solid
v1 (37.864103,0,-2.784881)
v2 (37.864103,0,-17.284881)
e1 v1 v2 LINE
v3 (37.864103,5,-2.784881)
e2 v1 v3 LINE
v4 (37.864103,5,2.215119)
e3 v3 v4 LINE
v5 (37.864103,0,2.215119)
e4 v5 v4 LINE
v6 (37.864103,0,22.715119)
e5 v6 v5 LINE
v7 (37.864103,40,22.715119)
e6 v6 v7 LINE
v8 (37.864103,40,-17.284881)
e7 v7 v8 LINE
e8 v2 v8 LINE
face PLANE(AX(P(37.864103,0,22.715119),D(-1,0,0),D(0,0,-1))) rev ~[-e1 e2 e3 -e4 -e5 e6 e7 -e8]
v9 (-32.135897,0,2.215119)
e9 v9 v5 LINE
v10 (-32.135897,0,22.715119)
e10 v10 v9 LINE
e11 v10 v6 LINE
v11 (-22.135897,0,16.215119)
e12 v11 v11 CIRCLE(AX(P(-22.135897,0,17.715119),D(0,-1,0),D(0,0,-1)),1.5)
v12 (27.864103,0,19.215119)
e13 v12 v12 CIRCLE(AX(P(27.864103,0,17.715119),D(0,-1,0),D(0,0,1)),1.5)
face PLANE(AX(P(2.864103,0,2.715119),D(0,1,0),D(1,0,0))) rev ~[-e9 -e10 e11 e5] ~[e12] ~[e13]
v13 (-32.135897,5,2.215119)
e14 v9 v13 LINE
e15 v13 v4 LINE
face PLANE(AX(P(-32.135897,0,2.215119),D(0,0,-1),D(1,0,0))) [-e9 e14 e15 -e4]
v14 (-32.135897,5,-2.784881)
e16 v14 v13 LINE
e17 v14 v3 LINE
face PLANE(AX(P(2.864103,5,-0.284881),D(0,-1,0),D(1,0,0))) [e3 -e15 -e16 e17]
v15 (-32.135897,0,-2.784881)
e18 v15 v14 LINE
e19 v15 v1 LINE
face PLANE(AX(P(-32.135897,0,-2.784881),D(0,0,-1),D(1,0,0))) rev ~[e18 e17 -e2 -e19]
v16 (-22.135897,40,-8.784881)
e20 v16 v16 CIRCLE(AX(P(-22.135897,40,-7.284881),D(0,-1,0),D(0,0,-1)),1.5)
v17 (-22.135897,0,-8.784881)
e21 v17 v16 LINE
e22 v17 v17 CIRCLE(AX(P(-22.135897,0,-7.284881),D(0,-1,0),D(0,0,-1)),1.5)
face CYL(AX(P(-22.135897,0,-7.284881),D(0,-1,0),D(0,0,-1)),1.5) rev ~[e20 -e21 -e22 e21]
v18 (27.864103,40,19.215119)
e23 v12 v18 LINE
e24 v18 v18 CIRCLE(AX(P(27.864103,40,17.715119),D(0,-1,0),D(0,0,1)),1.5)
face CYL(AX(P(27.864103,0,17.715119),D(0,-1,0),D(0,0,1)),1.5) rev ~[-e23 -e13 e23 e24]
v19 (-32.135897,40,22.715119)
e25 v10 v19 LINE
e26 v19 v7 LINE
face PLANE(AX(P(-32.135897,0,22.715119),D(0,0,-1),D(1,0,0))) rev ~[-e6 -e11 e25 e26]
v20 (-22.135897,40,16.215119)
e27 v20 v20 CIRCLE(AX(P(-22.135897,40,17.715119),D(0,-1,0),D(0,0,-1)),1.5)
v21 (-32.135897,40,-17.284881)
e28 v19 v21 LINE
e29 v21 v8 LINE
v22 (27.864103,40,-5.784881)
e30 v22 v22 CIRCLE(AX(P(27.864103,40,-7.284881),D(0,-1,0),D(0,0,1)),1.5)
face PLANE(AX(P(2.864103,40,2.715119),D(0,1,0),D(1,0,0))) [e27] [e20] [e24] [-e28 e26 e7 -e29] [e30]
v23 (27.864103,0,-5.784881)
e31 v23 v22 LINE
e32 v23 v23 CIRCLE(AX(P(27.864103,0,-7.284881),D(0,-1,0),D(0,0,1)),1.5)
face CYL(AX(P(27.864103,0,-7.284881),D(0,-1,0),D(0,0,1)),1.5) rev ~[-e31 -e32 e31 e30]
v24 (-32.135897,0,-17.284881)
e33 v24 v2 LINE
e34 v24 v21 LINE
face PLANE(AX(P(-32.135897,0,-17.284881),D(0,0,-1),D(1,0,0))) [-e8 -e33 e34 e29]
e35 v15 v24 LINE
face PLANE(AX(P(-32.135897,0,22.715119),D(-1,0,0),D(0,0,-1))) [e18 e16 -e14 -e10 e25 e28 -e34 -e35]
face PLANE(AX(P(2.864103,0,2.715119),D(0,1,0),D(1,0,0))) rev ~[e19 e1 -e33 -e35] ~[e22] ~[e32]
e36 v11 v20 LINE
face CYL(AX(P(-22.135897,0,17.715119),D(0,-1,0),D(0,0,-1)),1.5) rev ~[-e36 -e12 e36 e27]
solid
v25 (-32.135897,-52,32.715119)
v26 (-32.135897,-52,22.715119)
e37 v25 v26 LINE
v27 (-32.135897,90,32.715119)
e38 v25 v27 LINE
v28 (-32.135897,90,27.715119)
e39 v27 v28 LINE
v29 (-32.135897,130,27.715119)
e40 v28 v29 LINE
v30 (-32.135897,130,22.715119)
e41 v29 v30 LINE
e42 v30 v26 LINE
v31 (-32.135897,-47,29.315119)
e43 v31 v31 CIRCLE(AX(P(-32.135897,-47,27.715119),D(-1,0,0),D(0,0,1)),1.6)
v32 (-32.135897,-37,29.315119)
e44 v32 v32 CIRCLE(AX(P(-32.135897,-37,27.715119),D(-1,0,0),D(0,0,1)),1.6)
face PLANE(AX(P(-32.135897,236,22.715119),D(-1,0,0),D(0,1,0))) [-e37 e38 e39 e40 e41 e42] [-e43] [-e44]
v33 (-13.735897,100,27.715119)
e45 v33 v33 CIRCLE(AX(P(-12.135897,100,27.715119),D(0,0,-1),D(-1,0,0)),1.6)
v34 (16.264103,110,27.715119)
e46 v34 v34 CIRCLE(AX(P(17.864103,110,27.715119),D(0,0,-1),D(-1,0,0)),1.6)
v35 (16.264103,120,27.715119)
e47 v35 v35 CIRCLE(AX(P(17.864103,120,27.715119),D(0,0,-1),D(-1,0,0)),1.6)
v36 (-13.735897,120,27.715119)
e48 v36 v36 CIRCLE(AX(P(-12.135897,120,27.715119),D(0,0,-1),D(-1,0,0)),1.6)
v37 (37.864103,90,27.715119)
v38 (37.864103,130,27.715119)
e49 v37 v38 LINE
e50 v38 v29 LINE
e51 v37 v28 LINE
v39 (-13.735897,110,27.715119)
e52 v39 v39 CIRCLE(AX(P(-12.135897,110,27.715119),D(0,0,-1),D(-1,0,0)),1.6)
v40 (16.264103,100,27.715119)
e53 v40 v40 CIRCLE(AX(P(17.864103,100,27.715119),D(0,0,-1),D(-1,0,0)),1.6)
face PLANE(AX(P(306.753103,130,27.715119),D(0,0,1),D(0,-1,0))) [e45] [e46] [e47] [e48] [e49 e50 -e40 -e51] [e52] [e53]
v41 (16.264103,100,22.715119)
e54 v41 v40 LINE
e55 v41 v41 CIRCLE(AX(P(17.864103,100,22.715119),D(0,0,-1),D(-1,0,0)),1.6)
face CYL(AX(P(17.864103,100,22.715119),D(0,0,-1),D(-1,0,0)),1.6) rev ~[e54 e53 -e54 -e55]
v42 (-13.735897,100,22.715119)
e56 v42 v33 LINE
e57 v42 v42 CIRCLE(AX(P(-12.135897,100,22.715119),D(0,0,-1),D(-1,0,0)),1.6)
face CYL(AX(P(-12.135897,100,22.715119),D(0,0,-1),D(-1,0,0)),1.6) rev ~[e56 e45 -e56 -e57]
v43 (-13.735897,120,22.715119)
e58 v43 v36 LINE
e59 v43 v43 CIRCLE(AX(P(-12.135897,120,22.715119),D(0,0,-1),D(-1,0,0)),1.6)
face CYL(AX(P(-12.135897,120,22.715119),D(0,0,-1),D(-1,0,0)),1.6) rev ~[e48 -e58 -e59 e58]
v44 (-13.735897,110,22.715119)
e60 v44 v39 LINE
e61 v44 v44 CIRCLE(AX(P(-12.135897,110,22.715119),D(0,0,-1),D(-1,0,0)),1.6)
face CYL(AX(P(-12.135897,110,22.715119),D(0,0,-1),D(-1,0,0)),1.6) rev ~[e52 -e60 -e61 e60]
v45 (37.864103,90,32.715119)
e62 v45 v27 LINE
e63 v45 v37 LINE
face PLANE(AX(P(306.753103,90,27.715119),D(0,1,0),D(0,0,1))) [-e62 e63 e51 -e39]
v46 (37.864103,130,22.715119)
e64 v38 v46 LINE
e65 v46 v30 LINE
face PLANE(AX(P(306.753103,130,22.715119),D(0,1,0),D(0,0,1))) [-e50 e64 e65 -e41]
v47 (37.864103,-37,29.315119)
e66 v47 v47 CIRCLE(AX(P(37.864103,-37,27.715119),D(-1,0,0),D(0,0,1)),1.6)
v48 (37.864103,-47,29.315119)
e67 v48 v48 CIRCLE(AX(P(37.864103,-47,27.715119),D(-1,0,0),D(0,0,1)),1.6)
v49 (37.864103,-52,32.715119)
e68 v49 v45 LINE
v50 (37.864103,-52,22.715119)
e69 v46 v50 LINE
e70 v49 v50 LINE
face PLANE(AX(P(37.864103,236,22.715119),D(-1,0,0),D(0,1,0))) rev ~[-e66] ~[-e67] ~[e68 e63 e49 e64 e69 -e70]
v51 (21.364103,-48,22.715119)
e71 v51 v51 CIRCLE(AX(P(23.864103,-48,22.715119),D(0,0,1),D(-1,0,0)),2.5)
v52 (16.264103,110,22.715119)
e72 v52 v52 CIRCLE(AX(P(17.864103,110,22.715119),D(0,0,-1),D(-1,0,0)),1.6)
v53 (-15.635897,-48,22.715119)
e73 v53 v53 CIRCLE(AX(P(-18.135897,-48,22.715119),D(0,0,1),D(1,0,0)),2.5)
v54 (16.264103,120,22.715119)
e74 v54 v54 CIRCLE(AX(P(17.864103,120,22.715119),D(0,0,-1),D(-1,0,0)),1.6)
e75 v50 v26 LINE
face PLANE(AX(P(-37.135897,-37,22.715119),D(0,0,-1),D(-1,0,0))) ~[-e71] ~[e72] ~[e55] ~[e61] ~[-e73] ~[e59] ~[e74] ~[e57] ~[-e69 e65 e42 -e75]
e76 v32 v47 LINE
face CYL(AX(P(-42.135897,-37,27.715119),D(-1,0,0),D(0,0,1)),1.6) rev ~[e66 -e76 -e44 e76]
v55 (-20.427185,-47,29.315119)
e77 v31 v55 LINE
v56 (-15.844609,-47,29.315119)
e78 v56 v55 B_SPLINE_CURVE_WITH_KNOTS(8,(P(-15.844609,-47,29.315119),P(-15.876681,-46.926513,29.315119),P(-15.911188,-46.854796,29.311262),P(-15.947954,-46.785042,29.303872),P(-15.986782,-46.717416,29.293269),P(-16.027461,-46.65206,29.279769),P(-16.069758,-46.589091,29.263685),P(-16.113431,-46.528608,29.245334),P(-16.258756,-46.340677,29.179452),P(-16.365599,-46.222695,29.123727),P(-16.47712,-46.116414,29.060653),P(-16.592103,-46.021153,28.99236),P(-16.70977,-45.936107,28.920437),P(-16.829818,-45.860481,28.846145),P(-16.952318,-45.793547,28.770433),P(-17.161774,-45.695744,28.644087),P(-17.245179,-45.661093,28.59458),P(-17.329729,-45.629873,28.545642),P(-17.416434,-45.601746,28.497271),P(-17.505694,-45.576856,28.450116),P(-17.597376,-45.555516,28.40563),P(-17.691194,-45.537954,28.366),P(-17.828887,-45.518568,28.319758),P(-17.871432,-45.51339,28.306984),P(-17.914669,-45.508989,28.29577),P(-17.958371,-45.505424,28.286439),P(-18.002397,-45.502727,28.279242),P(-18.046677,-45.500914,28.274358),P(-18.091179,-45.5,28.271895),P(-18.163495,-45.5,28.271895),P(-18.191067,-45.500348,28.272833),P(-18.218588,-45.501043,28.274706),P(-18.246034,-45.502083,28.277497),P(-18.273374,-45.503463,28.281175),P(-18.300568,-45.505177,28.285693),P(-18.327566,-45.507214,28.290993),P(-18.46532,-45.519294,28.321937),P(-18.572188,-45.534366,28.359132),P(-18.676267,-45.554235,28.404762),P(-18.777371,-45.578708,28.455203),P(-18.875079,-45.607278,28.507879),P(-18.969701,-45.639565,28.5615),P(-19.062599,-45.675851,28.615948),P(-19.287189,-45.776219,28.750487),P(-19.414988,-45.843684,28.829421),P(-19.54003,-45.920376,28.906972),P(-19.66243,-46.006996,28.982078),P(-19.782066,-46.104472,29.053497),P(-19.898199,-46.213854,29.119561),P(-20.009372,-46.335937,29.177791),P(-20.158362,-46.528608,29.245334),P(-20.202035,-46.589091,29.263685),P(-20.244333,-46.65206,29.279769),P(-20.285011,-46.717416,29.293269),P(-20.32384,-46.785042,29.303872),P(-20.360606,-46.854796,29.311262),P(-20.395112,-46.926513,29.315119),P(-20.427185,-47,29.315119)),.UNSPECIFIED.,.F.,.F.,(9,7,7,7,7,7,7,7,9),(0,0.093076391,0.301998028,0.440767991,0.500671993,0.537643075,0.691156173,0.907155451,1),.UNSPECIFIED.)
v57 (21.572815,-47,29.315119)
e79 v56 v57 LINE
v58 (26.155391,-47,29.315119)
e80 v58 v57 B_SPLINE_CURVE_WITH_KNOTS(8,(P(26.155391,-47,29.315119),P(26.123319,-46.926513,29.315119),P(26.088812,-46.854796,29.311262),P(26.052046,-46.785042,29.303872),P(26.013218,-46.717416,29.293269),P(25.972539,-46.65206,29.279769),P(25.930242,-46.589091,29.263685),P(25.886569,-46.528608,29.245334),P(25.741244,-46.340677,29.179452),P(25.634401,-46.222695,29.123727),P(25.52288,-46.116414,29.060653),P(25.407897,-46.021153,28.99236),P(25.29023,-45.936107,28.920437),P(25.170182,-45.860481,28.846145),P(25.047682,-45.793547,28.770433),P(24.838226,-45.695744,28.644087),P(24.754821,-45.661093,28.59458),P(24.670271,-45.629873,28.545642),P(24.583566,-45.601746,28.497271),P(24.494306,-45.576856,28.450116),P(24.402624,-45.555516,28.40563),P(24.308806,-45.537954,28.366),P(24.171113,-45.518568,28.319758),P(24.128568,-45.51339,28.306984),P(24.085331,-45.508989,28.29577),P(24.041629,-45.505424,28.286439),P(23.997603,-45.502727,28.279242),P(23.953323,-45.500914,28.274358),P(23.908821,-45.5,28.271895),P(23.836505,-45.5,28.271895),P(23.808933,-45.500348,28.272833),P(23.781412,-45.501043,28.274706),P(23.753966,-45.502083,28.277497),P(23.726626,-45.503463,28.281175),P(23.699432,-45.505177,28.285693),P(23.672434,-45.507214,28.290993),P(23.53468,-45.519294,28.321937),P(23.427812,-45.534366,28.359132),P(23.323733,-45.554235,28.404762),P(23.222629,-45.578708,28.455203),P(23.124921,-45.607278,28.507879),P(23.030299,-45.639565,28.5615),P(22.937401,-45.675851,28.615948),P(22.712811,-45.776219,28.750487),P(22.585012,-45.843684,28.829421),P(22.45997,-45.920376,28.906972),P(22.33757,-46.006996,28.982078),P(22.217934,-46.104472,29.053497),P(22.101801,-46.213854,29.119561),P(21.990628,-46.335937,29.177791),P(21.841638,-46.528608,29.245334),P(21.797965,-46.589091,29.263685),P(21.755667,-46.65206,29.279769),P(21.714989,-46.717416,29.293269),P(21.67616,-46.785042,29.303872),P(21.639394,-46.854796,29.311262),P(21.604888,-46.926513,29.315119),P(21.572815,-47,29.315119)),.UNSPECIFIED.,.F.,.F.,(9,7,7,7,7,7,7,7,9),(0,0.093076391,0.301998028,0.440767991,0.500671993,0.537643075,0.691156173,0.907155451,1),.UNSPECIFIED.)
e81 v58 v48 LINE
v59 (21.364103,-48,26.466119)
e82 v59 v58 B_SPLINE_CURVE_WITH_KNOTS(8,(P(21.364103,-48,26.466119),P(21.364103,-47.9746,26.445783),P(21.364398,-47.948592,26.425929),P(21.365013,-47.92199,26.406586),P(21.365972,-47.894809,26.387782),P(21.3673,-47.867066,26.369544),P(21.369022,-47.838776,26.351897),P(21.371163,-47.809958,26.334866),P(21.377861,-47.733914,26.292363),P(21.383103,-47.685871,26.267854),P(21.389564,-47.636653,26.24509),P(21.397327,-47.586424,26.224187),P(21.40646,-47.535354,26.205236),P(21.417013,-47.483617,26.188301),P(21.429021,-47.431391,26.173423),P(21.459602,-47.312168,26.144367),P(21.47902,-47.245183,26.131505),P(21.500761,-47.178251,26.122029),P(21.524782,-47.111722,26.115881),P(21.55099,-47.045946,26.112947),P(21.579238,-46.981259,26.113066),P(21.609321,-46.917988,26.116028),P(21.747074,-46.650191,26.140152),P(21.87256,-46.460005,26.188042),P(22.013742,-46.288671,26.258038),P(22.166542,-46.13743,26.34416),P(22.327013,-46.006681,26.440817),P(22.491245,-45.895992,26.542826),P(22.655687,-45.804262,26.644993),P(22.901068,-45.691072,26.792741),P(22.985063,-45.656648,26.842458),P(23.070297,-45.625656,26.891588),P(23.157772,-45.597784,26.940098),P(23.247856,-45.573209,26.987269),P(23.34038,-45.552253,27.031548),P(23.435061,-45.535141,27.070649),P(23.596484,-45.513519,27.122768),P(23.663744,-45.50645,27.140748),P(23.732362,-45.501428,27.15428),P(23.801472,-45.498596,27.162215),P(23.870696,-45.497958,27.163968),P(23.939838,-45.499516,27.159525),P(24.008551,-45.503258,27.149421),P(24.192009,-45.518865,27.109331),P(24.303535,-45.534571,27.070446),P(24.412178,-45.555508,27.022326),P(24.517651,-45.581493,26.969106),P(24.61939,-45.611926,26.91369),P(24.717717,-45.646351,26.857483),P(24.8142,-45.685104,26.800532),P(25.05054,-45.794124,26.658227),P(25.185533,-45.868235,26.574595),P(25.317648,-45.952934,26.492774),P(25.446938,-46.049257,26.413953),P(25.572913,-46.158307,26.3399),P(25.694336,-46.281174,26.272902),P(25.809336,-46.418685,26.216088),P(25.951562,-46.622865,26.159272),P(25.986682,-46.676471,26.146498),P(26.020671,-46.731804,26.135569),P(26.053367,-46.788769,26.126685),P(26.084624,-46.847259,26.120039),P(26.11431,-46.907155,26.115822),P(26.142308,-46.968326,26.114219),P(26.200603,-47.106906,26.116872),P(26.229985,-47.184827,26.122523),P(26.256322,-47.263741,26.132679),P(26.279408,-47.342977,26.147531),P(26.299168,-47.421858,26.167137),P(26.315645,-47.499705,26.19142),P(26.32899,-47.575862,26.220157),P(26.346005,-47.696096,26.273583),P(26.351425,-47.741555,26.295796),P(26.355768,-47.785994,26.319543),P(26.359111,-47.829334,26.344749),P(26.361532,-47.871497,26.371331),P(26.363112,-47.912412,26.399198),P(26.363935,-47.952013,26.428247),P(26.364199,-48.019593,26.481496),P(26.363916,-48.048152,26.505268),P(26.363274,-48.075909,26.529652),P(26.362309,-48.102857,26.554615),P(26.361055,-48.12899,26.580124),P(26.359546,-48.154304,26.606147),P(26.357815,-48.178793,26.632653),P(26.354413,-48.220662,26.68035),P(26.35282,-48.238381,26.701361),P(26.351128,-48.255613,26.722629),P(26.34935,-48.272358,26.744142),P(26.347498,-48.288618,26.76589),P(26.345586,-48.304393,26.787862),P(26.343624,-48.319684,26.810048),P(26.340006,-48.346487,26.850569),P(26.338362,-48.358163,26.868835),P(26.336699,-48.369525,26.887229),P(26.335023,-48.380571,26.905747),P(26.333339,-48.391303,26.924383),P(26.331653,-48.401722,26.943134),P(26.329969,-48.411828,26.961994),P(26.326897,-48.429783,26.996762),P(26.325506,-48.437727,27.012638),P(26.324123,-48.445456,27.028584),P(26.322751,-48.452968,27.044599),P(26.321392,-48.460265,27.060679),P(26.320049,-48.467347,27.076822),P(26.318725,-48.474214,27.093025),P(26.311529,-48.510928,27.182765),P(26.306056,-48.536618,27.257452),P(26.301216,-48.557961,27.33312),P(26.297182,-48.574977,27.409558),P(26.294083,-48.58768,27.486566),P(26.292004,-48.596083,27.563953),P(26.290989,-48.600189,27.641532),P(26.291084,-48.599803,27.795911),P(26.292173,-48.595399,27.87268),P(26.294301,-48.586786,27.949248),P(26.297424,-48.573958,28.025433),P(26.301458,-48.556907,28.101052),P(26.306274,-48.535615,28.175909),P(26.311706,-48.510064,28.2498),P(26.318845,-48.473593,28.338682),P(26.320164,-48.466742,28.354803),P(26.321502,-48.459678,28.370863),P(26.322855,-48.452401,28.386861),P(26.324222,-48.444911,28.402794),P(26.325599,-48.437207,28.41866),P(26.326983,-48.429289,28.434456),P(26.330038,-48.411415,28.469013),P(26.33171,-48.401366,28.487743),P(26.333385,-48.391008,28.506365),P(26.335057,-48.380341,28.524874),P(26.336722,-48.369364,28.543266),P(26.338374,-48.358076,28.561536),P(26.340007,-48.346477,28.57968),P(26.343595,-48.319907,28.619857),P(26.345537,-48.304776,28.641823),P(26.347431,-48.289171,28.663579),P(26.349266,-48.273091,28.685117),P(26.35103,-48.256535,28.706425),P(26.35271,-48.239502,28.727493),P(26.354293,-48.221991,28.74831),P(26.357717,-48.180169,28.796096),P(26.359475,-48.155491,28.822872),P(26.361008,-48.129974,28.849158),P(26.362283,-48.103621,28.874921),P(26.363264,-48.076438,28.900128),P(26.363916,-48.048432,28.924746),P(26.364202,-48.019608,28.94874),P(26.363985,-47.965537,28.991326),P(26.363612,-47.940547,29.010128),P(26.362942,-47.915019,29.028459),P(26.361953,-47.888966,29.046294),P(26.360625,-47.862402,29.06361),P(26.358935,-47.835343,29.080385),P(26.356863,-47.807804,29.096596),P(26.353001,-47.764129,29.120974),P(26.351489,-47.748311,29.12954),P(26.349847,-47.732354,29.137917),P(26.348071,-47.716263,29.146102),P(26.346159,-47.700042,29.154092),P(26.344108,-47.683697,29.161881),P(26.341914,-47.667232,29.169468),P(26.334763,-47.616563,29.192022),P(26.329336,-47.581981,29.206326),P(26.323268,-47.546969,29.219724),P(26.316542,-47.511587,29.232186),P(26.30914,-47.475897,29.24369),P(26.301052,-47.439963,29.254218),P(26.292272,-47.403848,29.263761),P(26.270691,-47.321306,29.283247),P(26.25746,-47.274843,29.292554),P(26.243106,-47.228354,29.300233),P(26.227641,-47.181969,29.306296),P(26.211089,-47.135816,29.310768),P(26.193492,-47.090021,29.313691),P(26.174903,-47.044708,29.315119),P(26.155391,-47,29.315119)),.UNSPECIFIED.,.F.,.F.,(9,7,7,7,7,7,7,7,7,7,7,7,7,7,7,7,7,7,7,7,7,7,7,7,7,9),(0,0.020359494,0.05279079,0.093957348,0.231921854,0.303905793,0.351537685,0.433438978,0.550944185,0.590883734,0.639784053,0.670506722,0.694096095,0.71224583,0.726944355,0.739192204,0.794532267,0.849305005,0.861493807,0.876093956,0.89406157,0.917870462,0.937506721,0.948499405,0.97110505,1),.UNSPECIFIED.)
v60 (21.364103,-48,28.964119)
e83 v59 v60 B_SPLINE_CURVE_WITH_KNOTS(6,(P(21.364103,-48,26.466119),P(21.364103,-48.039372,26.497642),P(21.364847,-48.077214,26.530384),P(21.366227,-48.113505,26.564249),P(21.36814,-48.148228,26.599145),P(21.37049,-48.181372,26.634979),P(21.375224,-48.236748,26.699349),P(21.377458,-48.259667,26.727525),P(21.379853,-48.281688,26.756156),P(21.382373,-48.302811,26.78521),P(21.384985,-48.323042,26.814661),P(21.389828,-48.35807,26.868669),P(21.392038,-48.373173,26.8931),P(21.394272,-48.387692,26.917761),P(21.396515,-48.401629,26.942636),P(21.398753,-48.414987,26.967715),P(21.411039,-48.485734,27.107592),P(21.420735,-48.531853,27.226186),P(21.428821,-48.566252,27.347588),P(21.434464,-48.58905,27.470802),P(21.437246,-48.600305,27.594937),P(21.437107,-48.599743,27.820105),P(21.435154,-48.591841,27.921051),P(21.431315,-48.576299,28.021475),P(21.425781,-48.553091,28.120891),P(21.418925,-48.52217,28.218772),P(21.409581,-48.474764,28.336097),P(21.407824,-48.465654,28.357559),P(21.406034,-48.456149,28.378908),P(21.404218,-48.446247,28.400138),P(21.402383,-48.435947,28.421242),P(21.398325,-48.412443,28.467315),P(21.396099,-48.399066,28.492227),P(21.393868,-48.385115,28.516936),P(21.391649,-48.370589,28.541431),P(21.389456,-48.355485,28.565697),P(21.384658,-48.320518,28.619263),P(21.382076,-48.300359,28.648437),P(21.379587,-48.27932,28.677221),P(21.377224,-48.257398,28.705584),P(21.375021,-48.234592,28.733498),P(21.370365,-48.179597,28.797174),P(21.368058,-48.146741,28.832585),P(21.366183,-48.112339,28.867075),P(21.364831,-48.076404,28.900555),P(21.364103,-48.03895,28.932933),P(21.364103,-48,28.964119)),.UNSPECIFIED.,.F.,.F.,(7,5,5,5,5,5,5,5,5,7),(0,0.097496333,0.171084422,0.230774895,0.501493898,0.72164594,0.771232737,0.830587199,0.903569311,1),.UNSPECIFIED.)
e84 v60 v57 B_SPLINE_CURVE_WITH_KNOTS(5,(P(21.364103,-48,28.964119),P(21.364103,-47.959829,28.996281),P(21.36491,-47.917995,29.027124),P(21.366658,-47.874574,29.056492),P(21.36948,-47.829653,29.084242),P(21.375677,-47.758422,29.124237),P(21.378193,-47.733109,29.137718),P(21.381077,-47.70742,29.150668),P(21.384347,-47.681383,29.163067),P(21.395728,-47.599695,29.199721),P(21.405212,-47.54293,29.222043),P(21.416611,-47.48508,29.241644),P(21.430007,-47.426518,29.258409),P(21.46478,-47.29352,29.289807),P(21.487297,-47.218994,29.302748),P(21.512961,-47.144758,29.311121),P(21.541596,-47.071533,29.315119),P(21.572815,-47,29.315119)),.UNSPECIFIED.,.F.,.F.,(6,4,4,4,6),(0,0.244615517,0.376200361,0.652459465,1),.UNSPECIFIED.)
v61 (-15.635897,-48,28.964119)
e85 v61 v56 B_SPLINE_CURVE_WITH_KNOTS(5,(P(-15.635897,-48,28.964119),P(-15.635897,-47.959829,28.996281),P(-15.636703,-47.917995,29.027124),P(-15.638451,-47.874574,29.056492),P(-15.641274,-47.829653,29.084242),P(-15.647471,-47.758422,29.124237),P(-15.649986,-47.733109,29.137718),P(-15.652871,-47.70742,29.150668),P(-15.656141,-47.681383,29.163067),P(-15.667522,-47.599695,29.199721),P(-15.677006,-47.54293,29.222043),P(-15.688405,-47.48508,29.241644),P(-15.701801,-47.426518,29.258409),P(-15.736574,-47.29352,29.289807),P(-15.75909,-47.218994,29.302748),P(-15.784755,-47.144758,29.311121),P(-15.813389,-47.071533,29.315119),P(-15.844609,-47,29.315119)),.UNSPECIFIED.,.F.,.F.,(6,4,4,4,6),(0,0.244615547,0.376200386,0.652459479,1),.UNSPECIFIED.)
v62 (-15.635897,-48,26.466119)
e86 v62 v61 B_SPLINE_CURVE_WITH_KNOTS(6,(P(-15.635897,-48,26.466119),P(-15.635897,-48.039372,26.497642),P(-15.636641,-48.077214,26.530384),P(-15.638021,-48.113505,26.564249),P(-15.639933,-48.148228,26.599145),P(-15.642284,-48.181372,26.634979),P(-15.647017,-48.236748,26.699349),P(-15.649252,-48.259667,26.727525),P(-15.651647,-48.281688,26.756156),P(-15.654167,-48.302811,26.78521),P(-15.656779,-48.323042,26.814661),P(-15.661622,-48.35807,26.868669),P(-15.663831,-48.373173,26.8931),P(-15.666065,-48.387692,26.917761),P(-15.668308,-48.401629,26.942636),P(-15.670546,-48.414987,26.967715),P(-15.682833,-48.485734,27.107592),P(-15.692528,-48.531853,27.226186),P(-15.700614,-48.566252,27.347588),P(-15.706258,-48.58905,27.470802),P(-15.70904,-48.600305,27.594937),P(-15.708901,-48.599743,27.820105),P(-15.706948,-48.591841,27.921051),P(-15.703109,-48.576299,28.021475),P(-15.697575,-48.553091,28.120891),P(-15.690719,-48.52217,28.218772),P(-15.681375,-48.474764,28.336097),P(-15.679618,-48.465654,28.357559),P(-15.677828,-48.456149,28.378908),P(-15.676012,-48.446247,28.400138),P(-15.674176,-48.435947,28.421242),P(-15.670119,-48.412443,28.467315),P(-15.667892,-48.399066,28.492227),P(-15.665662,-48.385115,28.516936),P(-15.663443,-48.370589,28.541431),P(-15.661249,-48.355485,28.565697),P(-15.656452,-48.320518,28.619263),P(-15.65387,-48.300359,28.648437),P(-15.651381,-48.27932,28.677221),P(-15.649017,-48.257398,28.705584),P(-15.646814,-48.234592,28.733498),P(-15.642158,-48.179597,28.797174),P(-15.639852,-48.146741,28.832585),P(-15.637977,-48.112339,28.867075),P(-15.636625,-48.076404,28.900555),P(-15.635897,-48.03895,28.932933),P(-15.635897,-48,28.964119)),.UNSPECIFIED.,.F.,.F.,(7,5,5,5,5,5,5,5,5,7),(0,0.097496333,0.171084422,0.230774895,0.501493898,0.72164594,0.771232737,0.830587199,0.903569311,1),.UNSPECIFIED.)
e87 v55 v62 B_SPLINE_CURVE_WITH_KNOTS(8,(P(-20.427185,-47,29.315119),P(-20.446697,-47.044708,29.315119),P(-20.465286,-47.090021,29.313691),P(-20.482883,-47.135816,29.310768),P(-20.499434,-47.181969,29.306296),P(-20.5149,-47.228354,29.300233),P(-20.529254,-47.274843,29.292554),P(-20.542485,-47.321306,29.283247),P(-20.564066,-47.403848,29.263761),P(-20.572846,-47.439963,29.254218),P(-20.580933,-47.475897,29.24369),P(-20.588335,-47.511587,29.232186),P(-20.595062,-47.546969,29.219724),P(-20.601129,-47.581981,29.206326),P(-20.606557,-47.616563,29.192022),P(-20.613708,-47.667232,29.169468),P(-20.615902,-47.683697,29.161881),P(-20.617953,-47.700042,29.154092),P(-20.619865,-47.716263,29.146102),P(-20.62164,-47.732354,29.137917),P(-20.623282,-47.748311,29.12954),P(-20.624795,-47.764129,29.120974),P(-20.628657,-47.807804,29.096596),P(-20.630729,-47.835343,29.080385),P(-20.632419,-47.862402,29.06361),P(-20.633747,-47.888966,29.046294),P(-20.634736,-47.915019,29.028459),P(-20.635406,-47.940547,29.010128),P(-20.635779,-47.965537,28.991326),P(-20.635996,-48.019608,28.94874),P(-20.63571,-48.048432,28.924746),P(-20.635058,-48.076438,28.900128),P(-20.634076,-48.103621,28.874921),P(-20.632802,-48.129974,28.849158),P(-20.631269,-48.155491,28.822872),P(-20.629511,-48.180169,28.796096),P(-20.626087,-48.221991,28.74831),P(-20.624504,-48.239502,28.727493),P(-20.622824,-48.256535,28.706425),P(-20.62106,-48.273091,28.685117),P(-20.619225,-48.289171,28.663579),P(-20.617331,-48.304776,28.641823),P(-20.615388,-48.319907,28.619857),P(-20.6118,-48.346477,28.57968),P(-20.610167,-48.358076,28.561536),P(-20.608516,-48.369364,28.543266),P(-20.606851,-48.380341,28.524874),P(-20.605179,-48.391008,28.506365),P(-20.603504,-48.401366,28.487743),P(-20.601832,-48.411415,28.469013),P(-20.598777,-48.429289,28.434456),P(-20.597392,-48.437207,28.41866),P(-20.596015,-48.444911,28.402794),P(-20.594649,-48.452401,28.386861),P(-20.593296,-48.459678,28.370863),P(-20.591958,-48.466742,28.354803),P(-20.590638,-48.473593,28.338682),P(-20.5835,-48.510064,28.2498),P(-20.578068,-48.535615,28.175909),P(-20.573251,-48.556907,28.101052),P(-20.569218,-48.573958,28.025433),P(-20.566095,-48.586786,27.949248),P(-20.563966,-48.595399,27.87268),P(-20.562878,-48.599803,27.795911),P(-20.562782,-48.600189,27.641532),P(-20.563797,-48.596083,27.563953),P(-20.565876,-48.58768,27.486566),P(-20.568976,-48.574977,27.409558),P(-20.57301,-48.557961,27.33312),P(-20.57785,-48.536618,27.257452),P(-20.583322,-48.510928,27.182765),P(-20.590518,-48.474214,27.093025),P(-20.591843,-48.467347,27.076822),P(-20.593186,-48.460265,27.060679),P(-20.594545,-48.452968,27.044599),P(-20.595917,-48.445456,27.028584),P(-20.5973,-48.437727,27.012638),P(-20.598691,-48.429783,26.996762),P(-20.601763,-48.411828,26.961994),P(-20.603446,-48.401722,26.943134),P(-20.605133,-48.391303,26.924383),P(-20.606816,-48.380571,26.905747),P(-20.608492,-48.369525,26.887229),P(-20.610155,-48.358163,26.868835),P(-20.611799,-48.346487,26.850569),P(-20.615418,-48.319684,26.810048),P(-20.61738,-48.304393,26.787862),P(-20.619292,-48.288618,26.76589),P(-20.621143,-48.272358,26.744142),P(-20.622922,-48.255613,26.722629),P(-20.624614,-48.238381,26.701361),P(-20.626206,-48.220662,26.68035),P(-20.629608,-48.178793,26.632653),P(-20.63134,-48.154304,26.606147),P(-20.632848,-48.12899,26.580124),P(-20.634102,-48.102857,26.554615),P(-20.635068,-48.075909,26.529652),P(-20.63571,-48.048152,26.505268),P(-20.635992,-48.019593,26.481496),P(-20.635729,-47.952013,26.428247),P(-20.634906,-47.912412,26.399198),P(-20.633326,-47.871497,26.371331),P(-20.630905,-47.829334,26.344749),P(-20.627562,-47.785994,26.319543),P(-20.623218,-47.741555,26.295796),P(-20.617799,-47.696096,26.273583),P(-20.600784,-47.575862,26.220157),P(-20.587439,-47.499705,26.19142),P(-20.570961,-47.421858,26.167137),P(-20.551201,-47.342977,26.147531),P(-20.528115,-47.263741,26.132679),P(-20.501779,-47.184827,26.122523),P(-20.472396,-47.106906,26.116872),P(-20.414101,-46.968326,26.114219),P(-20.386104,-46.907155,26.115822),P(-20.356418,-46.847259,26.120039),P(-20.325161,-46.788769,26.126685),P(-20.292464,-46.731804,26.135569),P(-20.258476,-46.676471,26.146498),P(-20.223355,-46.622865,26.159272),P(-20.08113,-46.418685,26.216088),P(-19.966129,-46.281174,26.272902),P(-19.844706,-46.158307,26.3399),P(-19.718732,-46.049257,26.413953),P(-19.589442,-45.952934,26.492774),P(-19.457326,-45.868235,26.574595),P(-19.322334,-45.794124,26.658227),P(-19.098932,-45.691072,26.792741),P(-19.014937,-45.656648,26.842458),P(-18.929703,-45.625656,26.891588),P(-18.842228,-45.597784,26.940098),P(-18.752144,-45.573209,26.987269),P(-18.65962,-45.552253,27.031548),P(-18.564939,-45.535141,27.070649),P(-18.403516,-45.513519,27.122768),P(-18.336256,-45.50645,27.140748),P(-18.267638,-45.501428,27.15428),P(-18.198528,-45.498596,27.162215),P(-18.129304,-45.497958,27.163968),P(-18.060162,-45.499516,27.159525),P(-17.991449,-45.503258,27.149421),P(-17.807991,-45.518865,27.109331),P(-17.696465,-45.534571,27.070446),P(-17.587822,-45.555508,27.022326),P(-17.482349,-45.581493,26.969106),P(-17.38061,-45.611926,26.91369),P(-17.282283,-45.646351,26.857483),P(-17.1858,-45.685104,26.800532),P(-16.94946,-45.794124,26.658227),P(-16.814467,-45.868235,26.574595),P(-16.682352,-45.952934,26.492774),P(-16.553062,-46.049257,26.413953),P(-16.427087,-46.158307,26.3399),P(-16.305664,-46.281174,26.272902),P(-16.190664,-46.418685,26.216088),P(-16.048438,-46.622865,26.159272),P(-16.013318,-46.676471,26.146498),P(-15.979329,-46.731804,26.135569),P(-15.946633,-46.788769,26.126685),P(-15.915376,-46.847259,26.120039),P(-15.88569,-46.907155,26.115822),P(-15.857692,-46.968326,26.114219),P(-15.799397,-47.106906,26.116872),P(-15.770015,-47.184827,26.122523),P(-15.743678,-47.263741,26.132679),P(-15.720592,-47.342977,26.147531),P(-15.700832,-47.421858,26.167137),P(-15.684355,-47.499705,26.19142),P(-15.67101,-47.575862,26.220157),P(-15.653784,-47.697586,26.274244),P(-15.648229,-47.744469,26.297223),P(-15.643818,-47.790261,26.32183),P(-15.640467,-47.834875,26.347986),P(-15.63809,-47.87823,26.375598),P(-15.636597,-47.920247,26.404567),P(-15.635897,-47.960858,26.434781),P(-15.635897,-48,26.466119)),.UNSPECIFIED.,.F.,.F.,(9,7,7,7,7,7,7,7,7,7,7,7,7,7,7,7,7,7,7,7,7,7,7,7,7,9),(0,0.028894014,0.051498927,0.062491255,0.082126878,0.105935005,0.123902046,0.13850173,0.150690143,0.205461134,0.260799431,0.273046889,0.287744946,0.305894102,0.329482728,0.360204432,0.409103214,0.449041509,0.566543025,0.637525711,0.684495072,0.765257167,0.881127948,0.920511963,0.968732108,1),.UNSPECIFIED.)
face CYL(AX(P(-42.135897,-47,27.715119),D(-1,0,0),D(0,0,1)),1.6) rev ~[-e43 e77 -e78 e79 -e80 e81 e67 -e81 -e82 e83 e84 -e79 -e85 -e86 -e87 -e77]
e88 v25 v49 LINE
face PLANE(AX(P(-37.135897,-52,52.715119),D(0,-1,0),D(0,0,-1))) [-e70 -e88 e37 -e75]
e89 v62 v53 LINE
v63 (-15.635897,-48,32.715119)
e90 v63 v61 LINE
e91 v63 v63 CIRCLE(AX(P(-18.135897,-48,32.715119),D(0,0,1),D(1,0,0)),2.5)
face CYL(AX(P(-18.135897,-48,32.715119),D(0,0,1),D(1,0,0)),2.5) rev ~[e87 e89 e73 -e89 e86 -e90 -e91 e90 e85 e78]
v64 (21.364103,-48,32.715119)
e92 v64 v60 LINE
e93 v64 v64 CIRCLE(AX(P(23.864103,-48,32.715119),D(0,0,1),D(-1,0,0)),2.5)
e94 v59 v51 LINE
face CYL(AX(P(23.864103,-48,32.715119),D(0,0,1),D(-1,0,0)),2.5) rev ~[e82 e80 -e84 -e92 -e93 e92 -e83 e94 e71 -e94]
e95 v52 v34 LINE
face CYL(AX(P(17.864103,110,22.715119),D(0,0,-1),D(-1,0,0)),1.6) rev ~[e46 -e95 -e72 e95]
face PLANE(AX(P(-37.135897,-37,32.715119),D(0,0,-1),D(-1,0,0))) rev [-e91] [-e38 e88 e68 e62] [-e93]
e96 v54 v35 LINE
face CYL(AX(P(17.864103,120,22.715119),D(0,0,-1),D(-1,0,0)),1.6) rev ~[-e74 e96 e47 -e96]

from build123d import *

# Parameters (mm, degrees)
SKETCH_1_W                       = 70
SKETCH_1_H                       = 40
EXTRUDE_1_DEPTH                  = 40
SKETCH_2_R                       = 1.5
CUT_EXTRUDE_1_DEPTH              = 60.579081363
EXTRUDE_2_DEPTH                  = 52
EXTRUDE_2_DEPTH_BACK             = 236
SKETCH_4_W                       = 70
SKETCH_4_H                       = 10
SKETCH_5_R                       = 2.5
CUT_EXTRUDE_2_DEPTH              = 10
SKETCH_6_R                       = 3
CUT_EXTRUDE_3_DEPTH              = 10
SKETCH_7_W                       = 70
SKETCH_7_H                       = 10
EXTRUDE_3_DEPTH                  = 50
SKETCH_8_R                       = 12.5
CUT_EXTRUDE_4_DEPTH              = 10
SKETCH_12_W                      = 39
SKETCH_12_H                      = 39
SKETCH_12_W_2                    = 27
SKETCH_12_H_2                    = 27
EXTRUDE_2_2_DEPTH                = 15
SKETCH_14_R                      = 2
CUT_EXTRUDE_5_DEPTH              = 25
SKETCH_15_W                      = 70
SKETCH_15_H                      = 5
CUT_EXTRUDE_6_DEPTH              = 5
SKETCH_16_W                      = 50
SKETCH_16_H                      = 10
EXTRUDE_5_DEPTH                  = 10
MIRROR_2_COPY_1_SKETCH_W         = 50
MIRROR_2_COPY_1_SKETCH_H         = 10
MIRROR_2_COPY_1_DEPTH            = 10
SKETCH_17_R                      = 2.5
CUT_EXTRUDE_7_DEPTH              = 325.880687163
SKETCH_18_R                      = 2.5
EXTRUDE_6_DEPTH                  = 5
SKETCH_21_W                      = 10
SKETCH_21_H                      = 10
EXTRUDE_8_DEPTH                  = 10
EXTRUDE_9_DEPTH                  = 10
EXTRUDE_10_DEPTH                 = 10
SKETCH_26_R                      = 1.6
CUT_EXTRUDE_8_DEPTH              = 10
SPLIT_BODIES_1_SURFACE_1_BACK    = 338.889
SPLIT_BODIES_1_SURFACE_1_DEPTH   = 677.778
SPLIT_BODIES_1_SURFACE_2_BACK    = 338.889
SPLIT_BODIES_1_SURFACE_2_DEPTH   = 677.778
SKETCH_27_R                      = 1.6
CUT_EXTRUDE_9_DEPTH              = 175.033009856
SPLIT_BODIES_2_SURFACE_1_3_BACK  = 223.09
SPLIT_BODIES_2_SURFACE_1_3_DEPTH = 446.18
SPLIT_BODIES_2_SURFACE_1_4_BACK  = 223.09
SPLIT_BODIES_2_SURFACE_1_4_DEPTH = 446.18
SPLIT_BODIES_2_SURFACE_2_5_BACK  = 223.09
SPLIT_BODIES_2_SURFACE_2_5_DEPTH = 446.18
SPLIT_BODIES_2_SURFACE_2_6_BACK  = 223.09
SPLIT_BODIES_2_SURFACE_2_6_DEPTH = 446.18


with BuildPart() as part:
    # 草图1 → 凸台-拉伸1 (new body)
    with BuildSketch(Plane(origin=(0, 0, 0), x_dir=(1, 0, 0), z_dir=(0, 1, 0))):
        with Locations((2.864103165, -2.71511892)):
            Rectangle(SKETCH_1_W, SKETCH_1_H)
    extrude(amount=EXTRUDE_1_DEPTH)

    # 草图2 → 切除-拉伸1 (cut, through all)
    with BuildSketch(Plane.XZ):
        with Locations(Location((-22.135896835, 17.71511892, 0), (0, 0, 270))):
            Circle(SKETCH_2_R)
        with Locations(Location((27.864103165, 17.71511892, 0), (0, 0, 90))):
            Circle(SKETCH_2_R)
        with Locations(Location((-22.135896835, -7.28488108, 0), (0, 0, 270))):
            Circle(SKETCH_2_R)
        with Locations(Location((27.864103165, -7.28488108, 0), (0, 0, 90))):
            Circle(SKETCH_2_R)
    extrude(amount=-CUT_EXTRUDE_1_DEPTH, mode=Mode.SUBTRACT)

    # 草图15 → 切除-拉伸6 (cut)
    with BuildSketch(Plane.XZ):
        with Locations((2.864103165, -0.28488108)):
            Rectangle(SKETCH_15_W, SKETCH_15_H)
    extrude(amount=-CUT_EXTRUDE_6_DEPTH, mode=Mode.SUBTRACT)


with BuildPart() as body_2:
    # 草图4 → Extrude 2 (new, two sides: drawn at the far end of the back side and taken through both)
    with BuildSketch(Plane.XZ.offset(-EXTRUDE_2_DEPTH_BACK)):
        with Locations((2.864103165, 27.71511892)):
            Rectangle(SKETCH_4_W, SKETCH_4_H)
    extrude(amount=EXTRUDE_2_DEPTH + EXTRUDE_2_DEPTH_BACK)

    # 草图5 → 切除-拉伸2 (cut)
    with BuildSketch(Plane.XY.offset(32.71511892)):
        with Locations((-18.135896835, -48)):
            Circle(SKETCH_5_R)
        with Locations(Location((23.864103165, -48, 0), (0, 0, 180))):
            Circle(SKETCH_5_R)
    extrude(amount=-CUT_EXTRUDE_2_DEPTH, mode=Mode.SUBTRACT)

    # 草图6 → 切除-拉伸3 (cut)
    with BuildSketch(Plane.XY.offset(32.71511892)):
        with Locations((-18.135896835, 212)):
            Circle(SKETCH_6_R)
        with Locations(Location((23.864103165, 212, 0), (0, 0, 180))):
            Circle(SKETCH_6_R)
    extrude(amount=-CUT_EXTRUDE_3_DEPTH, mode=Mode.SUBTRACT)

    # 草图7 → 凸台-拉伸3 (add)
    with BuildSketch(Plane(origin=(0, 0, 22.71511892), x_dir=(-1, 0, 0), z_dir=(0, 0, -1))):
        with Locations((-2.864103165, 241)):
            Rectangle(SKETCH_7_W, SKETCH_7_H)
    extrude(amount=-EXTRUDE_3_DEPTH)

    # 草图8 → 切除-拉伸4 (cut)
    with BuildSketch(Plane.XZ.offset(-236)):
        with Locations(Location((2.864103165, 52.71511892, 0), (0, 0, 270))):
            Circle(SKETCH_8_R)
    extrude(amount=-CUT_EXTRUDE_4_DEPTH, mode=Mode.SUBTRACT)

    # 草图12 → Extrude 2 2 (add)
    with BuildSketch(Plane(origin=(0, 246, 0), x_dir=(1, 0, 0), z_dir=(0, 1, 0))):
        with Locations((2.864103165, -52.71511892)):
            Rectangle(SKETCH_12_W, SKETCH_12_H)
        with Locations((2.864103165, -52.71511892)):
            Rectangle(SKETCH_12_W_2, SKETCH_12_H_2, mode=Mode.SUBTRACT)
    extrude(amount=EXTRUDE_2_2_DEPTH)

    # 草图14 → 切除-拉伸5 (cut)
    with BuildSketch(Plane(origin=(0, 261, 0), x_dir=(1, 0, 0), z_dir=(0, 1, 0))):
        with Locations(Location((-12.635896835, -37.21511892, 0), (0, 0, 270))):
            Circle(SKETCH_14_R)
        with Locations(Location((18.364103165, -37.21511892, 0), (0, 0, 90))):
            Circle(SKETCH_14_R)
        with Locations(Location((-12.635896835, -68.21511892, 0), (0, 0, 90))):
            Circle(SKETCH_14_R)
        with Locations(Location((18.364103165, -68.21511892, 0), (0, 0, 270))):
            Circle(SKETCH_14_R)
    extrude(amount=-CUT_EXTRUDE_5_DEPTH, mode=Mode.SUBTRACT)

    # 草图16 → 凸台-拉伸5 (add)
    with BuildSketch(Plane.ZY.offset(32.135896835)):
        with Locations((47.71511892, 241)):
            Rectangle(SKETCH_16_W, SKETCH_16_H)
    extrude_5 = extrude(amount=EXTRUDE_5_DEPTH)

    # 镜向1: 凸台-拉伸5 across plane
    add(extrude_5.mirror(Plane.ZX.offset(97)))

    # 镜向2: 凸台-拉伸5 across plane
    add(extrude_5.mirror(Plane.ZY.offset(-2.864103165)))

    # 镜向2 copy 1 sketch → 镜向2 copy 1 (add)
    with BuildSketch(Plane(origin=(37.864103165, 194, 0), x_dir=(0, 0, 1), z_dir=(1, 0, 0))):
        with Locations((47.71511892, 241)):
            Rectangle(MIRROR_2_COPY_1_SKETCH_W, MIRROR_2_COPY_1_SKETCH_H)
    extrude(amount=MIRROR_2_COPY_1_DEPTH)

    # 草图17 → 切除-拉伸7 (cut, through all)
    with BuildSketch(Plane.XZ.offset(52)):
        with Locations(Location((-37.135896835, 52.71511892, 0), (0, 0, 270))):
            Circle(SKETCH_17_R)
        with Locations(Location((42.864103165, 52.71511892, 0), (0, 0, 270))):
            Circle(SKETCH_17_R)
    extrude(amount=-CUT_EXTRUDE_7_DEPTH, mode=Mode.SUBTRACT)

    # 草图18 → 凸台-拉伸6 (add)
    with BuildSketch(Plane.XZ.offset(52)):
        with Locations(Location((-37.135896835, 52.71511892, 0), (0, 0, 270))):
            Circle(SKETCH_18_R)
        with Locations(Location((42.864103165, 52.71511892, 0), (0, 0, 270))):
            Circle(SKETCH_18_R)
    extrude(amount=-EXTRUDE_6_DEPTH)

    # 草图21 → 凸台-拉伸8 (add)
    with BuildSketch(Plane(origin=(0, 0, 22.71511892), x_dir=(-1, 0, 0), z_dir=(0, 0, -1))):
        with Locations((-42.864103165, -37)):
            Rectangle(SKETCH_21_W, SKETCH_21_H)
    extrude_8 = extrude(amount=-EXTRUDE_8_DEPTH)

    # 镜向3: 凸台-拉伸8 across plane
    add(extrude_8.mirror(Plane.ZY.offset(-2.864103165)))

    # 草图22 → 凸台-拉伸9 (add)
    with BuildSketch(Plane(origin=(47.864103165, 0, 0), x_dir=(0, 0, -1), z_dir=(1, 0, 0))):
        Polygon((-32.71511892, -32), (-42.71511892, -42), (-32.71511892, -42), align=None)
    extrude(amount=-EXTRUDE_9_DEPTH)

    # 草图23 → 凸台-拉伸10 (add)
    with BuildSketch(Plane.ZY.offset(42.135896835)):
        Polygon((32.71511892, -32), (42.71511892, -42), (32.71511892, -42), align=None)
    extrude(amount=-EXTRUDE_10_DEPTH)

    # 草图26 → 切除-拉伸8 (cut)
    with BuildSketch(Plane(origin=(0, 0, 22.71511892), x_dir=(-1, 0, 0), z_dir=(0, 0, -1))):
        with Locations((-17.864103165, 100)):
            Circle(SKETCH_26_R)
        with Locations((-17.864103165, 110)):
            Circle(SKETCH_26_R)
        with Locations((-17.864103165, 120)):
            Circle(SKETCH_26_R)
        with Locations((12.135896835, 120)):
            Circle(SKETCH_26_R)
        with Locations((12.135896835, 110)):
            Circle(SKETCH_26_R)
        with Locations((12.135896835, 100)):
            Circle(SKETCH_26_R)
    extrude(amount=-CUT_EXTRUDE_8_DEPTH, mode=Mode.SUBTRACT)


with BuildPart() as body_3:
    # Split Bodies 1: the piece behind the surface
    add(body_2.part)
    # Split Bodies 1 surface: a surface, the sketch's curves swept straight by 677.778 mm
    with BuildLine(Plane.ZY.offset(32.135896835).offset(-SPLIT_BODIES_1_SURFACE_1_BACK), mode=Mode.PRIVATE) as split_bodies_1_surface_1_path:
        Line((22.71511892, 130), (27.71511892, 130))
        Line((27.71511892, 130), (27.71511892, 90))
        Line((27.71511892, 90), (32.71511892, 90))
    split_bodies_1_surface_1 = Shell.extrude(split_bodies_1_surface_1_path.wire(), (-1 * SPLIT_BODIES_1_SURFACE_1_DEPTH, 0 * SPLIT_BODIES_1_SURFACE_1_DEPTH, 0 * SPLIT_BODIES_1_SURFACE_1_DEPTH))
    split(bisect_by=split_bodies_1_surface_1, keep=Keep.BOTTOM)

    # 草图27 → 切除-拉伸9 (cut, through all)
    with BuildSketch(Plane.ZY.offset(42.135896835)):
        with Locations((27.71511892, -37)):
            Circle(SKETCH_27_R)
        with Locations((27.71511892, -47)):
            Circle(SKETCH_27_R)
    extrude(amount=-CUT_EXTRUDE_9_DEPTH, mode=Mode.SUBTRACT)


with BuildPart() as body_2_1:
    add(body_2.part)

    # Split Bodies 1: split by a surface, the side it looks to stays
    # Split Bodies 1 surface: a surface, the sketch's curves swept straight by 677.778 mm
    with BuildLine(Plane.ZY.offset(32.135896835).offset(-SPLIT_BODIES_1_SURFACE_2_BACK), mode=Mode.PRIVATE) as split_bodies_1_surface_2_path:
        Line((22.71511892, 130), (27.71511892, 130))
        Line((27.71511892, 130), (27.71511892, 90))
        Line((27.71511892, 90), (32.71511892, 90))
    split_bodies_1_surface_2 = Shell.extrude(split_bodies_1_surface_2_path.wire(), (-1 * SPLIT_BODIES_1_SURFACE_2_DEPTH, 0 * SPLIT_BODIES_1_SURFACE_2_DEPTH, 0 * SPLIT_BODIES_1_SURFACE_2_DEPTH))
    split(bisect_by=split_bodies_1_surface_2, keep=Keep.TOP)


with BuildPart() as body_3_2:
    # Split Bodies 2: the piece behind the surface
    add(body_3.part)
    # Split Bodies 2 surface 1: a surface, the sketch's curves swept straight by 446.18 mm
    with BuildLine(Plane(origin=(0, 0, 22.71511892), x_dir=(-1, 0, 0), z_dir=(0, 0, -1)).offset(-SPLIT_BODIES_2_SURFACE_1_3_BACK), mode=Mode.PRIVATE) as split_bodies_2_surface_1_3_path:
        Line((-37.864103165, -32), (-37.864103165, -52))
    split_bodies_2_surface_1_3 = Shell.extrude(split_bodies_2_surface_1_3_path.wire(), (0 * SPLIT_BODIES_2_SURFACE_1_3_DEPTH, 0 * SPLIT_BODIES_2_SURFACE_1_3_DEPTH, -1 * SPLIT_BODIES_2_SURFACE_1_3_DEPTH))
    split(bisect_by=split_bodies_2_surface_1_3, keep=Keep.BOTTOM)


with BuildPart() as body_3_1:
    add(body_3.part)

    # Split Bodies 2: split by a surface, the side it looks to stays
    # Split Bodies 2 surface 1: a surface, the sketch's curves swept straight by 446.18 mm
    with BuildLine(Plane(origin=(0, 0, 22.71511892), x_dir=(-1, 0, 0), z_dir=(0, 0, -1)).offset(-SPLIT_BODIES_2_SURFACE_1_4_BACK), mode=Mode.PRIVATE) as split_bodies_2_surface_1_4_path:
        Line((-37.864103165, -32), (-37.864103165, -52))
    split_bodies_2_surface_1_4 = Shell.extrude(split_bodies_2_surface_1_4_path.wire(), (0 * SPLIT_BODIES_2_SURFACE_1_4_DEPTH, 0 * SPLIT_BODIES_2_SURFACE_1_4_DEPTH, -1 * SPLIT_BODIES_2_SURFACE_1_4_DEPTH))
    split(bisect_by=split_bodies_2_surface_1_4, keep=Keep.TOP)


with BuildPart() as body_4:
    # Split Bodies 2 2: the piece behind the surface
    add(body_3_1.part)
    # Split Bodies 2 surface 2: a surface, the sketch's curves swept straight by 446.18 mm
    with BuildLine(Plane(origin=(0, 0, 22.71511892), x_dir=(-1, 0, 0), z_dir=(0, 0, -1)).offset(-SPLIT_BODIES_2_SURFACE_2_5_BACK), mode=Mode.PRIVATE) as split_bodies_2_surface_2_5_path:
        Line((32.135896835, -32), (32.135896835, -52))
    split_bodies_2_surface_2_5 = Shell.extrude(split_bodies_2_surface_2_5_path.wire(), (0 * SPLIT_BODIES_2_SURFACE_2_5_DEPTH, 0 * SPLIT_BODIES_2_SURFACE_2_5_DEPTH, -1 * SPLIT_BODIES_2_SURFACE_2_5_DEPTH))
    split(bisect_by=split_bodies_2_surface_2_5, keep=Keep.BOTTOM)


with BuildPart() as body_3_3:
    add(body_3_1.part)

    # Split Bodies 2 2: split by a surface, the side it looks to stays
    # Split Bodies 2 surface 2: a surface, the sketch's curves swept straight by 446.18 mm
    with BuildLine(Plane(origin=(0, 0, 22.71511892), x_dir=(-1, 0, 0), z_dir=(0, 0, -1)).offset(-SPLIT_BODIES_2_SURFACE_2_6_BACK), mode=Mode.PRIVATE) as split_bodies_2_surface_2_6_path:
        Line((32.135896835, -32), (32.135896835, -52))
    split_bodies_2_surface_2_6 = Shell.extrude(split_bodies_2_surface_2_6_path.wire(), (0 * SPLIT_BODIES_2_SURFACE_2_6_DEPTH, 0 * SPLIT_BODIES_2_SURFACE_2_6_DEPTH, -1 * SPLIT_BODIES_2_SURFACE_2_6_DEPTH))
    split(bisect_by=split_bodies_2_surface_2_6, keep=Keep.TOP)


solid = Compound([part.part, body_4.part])
